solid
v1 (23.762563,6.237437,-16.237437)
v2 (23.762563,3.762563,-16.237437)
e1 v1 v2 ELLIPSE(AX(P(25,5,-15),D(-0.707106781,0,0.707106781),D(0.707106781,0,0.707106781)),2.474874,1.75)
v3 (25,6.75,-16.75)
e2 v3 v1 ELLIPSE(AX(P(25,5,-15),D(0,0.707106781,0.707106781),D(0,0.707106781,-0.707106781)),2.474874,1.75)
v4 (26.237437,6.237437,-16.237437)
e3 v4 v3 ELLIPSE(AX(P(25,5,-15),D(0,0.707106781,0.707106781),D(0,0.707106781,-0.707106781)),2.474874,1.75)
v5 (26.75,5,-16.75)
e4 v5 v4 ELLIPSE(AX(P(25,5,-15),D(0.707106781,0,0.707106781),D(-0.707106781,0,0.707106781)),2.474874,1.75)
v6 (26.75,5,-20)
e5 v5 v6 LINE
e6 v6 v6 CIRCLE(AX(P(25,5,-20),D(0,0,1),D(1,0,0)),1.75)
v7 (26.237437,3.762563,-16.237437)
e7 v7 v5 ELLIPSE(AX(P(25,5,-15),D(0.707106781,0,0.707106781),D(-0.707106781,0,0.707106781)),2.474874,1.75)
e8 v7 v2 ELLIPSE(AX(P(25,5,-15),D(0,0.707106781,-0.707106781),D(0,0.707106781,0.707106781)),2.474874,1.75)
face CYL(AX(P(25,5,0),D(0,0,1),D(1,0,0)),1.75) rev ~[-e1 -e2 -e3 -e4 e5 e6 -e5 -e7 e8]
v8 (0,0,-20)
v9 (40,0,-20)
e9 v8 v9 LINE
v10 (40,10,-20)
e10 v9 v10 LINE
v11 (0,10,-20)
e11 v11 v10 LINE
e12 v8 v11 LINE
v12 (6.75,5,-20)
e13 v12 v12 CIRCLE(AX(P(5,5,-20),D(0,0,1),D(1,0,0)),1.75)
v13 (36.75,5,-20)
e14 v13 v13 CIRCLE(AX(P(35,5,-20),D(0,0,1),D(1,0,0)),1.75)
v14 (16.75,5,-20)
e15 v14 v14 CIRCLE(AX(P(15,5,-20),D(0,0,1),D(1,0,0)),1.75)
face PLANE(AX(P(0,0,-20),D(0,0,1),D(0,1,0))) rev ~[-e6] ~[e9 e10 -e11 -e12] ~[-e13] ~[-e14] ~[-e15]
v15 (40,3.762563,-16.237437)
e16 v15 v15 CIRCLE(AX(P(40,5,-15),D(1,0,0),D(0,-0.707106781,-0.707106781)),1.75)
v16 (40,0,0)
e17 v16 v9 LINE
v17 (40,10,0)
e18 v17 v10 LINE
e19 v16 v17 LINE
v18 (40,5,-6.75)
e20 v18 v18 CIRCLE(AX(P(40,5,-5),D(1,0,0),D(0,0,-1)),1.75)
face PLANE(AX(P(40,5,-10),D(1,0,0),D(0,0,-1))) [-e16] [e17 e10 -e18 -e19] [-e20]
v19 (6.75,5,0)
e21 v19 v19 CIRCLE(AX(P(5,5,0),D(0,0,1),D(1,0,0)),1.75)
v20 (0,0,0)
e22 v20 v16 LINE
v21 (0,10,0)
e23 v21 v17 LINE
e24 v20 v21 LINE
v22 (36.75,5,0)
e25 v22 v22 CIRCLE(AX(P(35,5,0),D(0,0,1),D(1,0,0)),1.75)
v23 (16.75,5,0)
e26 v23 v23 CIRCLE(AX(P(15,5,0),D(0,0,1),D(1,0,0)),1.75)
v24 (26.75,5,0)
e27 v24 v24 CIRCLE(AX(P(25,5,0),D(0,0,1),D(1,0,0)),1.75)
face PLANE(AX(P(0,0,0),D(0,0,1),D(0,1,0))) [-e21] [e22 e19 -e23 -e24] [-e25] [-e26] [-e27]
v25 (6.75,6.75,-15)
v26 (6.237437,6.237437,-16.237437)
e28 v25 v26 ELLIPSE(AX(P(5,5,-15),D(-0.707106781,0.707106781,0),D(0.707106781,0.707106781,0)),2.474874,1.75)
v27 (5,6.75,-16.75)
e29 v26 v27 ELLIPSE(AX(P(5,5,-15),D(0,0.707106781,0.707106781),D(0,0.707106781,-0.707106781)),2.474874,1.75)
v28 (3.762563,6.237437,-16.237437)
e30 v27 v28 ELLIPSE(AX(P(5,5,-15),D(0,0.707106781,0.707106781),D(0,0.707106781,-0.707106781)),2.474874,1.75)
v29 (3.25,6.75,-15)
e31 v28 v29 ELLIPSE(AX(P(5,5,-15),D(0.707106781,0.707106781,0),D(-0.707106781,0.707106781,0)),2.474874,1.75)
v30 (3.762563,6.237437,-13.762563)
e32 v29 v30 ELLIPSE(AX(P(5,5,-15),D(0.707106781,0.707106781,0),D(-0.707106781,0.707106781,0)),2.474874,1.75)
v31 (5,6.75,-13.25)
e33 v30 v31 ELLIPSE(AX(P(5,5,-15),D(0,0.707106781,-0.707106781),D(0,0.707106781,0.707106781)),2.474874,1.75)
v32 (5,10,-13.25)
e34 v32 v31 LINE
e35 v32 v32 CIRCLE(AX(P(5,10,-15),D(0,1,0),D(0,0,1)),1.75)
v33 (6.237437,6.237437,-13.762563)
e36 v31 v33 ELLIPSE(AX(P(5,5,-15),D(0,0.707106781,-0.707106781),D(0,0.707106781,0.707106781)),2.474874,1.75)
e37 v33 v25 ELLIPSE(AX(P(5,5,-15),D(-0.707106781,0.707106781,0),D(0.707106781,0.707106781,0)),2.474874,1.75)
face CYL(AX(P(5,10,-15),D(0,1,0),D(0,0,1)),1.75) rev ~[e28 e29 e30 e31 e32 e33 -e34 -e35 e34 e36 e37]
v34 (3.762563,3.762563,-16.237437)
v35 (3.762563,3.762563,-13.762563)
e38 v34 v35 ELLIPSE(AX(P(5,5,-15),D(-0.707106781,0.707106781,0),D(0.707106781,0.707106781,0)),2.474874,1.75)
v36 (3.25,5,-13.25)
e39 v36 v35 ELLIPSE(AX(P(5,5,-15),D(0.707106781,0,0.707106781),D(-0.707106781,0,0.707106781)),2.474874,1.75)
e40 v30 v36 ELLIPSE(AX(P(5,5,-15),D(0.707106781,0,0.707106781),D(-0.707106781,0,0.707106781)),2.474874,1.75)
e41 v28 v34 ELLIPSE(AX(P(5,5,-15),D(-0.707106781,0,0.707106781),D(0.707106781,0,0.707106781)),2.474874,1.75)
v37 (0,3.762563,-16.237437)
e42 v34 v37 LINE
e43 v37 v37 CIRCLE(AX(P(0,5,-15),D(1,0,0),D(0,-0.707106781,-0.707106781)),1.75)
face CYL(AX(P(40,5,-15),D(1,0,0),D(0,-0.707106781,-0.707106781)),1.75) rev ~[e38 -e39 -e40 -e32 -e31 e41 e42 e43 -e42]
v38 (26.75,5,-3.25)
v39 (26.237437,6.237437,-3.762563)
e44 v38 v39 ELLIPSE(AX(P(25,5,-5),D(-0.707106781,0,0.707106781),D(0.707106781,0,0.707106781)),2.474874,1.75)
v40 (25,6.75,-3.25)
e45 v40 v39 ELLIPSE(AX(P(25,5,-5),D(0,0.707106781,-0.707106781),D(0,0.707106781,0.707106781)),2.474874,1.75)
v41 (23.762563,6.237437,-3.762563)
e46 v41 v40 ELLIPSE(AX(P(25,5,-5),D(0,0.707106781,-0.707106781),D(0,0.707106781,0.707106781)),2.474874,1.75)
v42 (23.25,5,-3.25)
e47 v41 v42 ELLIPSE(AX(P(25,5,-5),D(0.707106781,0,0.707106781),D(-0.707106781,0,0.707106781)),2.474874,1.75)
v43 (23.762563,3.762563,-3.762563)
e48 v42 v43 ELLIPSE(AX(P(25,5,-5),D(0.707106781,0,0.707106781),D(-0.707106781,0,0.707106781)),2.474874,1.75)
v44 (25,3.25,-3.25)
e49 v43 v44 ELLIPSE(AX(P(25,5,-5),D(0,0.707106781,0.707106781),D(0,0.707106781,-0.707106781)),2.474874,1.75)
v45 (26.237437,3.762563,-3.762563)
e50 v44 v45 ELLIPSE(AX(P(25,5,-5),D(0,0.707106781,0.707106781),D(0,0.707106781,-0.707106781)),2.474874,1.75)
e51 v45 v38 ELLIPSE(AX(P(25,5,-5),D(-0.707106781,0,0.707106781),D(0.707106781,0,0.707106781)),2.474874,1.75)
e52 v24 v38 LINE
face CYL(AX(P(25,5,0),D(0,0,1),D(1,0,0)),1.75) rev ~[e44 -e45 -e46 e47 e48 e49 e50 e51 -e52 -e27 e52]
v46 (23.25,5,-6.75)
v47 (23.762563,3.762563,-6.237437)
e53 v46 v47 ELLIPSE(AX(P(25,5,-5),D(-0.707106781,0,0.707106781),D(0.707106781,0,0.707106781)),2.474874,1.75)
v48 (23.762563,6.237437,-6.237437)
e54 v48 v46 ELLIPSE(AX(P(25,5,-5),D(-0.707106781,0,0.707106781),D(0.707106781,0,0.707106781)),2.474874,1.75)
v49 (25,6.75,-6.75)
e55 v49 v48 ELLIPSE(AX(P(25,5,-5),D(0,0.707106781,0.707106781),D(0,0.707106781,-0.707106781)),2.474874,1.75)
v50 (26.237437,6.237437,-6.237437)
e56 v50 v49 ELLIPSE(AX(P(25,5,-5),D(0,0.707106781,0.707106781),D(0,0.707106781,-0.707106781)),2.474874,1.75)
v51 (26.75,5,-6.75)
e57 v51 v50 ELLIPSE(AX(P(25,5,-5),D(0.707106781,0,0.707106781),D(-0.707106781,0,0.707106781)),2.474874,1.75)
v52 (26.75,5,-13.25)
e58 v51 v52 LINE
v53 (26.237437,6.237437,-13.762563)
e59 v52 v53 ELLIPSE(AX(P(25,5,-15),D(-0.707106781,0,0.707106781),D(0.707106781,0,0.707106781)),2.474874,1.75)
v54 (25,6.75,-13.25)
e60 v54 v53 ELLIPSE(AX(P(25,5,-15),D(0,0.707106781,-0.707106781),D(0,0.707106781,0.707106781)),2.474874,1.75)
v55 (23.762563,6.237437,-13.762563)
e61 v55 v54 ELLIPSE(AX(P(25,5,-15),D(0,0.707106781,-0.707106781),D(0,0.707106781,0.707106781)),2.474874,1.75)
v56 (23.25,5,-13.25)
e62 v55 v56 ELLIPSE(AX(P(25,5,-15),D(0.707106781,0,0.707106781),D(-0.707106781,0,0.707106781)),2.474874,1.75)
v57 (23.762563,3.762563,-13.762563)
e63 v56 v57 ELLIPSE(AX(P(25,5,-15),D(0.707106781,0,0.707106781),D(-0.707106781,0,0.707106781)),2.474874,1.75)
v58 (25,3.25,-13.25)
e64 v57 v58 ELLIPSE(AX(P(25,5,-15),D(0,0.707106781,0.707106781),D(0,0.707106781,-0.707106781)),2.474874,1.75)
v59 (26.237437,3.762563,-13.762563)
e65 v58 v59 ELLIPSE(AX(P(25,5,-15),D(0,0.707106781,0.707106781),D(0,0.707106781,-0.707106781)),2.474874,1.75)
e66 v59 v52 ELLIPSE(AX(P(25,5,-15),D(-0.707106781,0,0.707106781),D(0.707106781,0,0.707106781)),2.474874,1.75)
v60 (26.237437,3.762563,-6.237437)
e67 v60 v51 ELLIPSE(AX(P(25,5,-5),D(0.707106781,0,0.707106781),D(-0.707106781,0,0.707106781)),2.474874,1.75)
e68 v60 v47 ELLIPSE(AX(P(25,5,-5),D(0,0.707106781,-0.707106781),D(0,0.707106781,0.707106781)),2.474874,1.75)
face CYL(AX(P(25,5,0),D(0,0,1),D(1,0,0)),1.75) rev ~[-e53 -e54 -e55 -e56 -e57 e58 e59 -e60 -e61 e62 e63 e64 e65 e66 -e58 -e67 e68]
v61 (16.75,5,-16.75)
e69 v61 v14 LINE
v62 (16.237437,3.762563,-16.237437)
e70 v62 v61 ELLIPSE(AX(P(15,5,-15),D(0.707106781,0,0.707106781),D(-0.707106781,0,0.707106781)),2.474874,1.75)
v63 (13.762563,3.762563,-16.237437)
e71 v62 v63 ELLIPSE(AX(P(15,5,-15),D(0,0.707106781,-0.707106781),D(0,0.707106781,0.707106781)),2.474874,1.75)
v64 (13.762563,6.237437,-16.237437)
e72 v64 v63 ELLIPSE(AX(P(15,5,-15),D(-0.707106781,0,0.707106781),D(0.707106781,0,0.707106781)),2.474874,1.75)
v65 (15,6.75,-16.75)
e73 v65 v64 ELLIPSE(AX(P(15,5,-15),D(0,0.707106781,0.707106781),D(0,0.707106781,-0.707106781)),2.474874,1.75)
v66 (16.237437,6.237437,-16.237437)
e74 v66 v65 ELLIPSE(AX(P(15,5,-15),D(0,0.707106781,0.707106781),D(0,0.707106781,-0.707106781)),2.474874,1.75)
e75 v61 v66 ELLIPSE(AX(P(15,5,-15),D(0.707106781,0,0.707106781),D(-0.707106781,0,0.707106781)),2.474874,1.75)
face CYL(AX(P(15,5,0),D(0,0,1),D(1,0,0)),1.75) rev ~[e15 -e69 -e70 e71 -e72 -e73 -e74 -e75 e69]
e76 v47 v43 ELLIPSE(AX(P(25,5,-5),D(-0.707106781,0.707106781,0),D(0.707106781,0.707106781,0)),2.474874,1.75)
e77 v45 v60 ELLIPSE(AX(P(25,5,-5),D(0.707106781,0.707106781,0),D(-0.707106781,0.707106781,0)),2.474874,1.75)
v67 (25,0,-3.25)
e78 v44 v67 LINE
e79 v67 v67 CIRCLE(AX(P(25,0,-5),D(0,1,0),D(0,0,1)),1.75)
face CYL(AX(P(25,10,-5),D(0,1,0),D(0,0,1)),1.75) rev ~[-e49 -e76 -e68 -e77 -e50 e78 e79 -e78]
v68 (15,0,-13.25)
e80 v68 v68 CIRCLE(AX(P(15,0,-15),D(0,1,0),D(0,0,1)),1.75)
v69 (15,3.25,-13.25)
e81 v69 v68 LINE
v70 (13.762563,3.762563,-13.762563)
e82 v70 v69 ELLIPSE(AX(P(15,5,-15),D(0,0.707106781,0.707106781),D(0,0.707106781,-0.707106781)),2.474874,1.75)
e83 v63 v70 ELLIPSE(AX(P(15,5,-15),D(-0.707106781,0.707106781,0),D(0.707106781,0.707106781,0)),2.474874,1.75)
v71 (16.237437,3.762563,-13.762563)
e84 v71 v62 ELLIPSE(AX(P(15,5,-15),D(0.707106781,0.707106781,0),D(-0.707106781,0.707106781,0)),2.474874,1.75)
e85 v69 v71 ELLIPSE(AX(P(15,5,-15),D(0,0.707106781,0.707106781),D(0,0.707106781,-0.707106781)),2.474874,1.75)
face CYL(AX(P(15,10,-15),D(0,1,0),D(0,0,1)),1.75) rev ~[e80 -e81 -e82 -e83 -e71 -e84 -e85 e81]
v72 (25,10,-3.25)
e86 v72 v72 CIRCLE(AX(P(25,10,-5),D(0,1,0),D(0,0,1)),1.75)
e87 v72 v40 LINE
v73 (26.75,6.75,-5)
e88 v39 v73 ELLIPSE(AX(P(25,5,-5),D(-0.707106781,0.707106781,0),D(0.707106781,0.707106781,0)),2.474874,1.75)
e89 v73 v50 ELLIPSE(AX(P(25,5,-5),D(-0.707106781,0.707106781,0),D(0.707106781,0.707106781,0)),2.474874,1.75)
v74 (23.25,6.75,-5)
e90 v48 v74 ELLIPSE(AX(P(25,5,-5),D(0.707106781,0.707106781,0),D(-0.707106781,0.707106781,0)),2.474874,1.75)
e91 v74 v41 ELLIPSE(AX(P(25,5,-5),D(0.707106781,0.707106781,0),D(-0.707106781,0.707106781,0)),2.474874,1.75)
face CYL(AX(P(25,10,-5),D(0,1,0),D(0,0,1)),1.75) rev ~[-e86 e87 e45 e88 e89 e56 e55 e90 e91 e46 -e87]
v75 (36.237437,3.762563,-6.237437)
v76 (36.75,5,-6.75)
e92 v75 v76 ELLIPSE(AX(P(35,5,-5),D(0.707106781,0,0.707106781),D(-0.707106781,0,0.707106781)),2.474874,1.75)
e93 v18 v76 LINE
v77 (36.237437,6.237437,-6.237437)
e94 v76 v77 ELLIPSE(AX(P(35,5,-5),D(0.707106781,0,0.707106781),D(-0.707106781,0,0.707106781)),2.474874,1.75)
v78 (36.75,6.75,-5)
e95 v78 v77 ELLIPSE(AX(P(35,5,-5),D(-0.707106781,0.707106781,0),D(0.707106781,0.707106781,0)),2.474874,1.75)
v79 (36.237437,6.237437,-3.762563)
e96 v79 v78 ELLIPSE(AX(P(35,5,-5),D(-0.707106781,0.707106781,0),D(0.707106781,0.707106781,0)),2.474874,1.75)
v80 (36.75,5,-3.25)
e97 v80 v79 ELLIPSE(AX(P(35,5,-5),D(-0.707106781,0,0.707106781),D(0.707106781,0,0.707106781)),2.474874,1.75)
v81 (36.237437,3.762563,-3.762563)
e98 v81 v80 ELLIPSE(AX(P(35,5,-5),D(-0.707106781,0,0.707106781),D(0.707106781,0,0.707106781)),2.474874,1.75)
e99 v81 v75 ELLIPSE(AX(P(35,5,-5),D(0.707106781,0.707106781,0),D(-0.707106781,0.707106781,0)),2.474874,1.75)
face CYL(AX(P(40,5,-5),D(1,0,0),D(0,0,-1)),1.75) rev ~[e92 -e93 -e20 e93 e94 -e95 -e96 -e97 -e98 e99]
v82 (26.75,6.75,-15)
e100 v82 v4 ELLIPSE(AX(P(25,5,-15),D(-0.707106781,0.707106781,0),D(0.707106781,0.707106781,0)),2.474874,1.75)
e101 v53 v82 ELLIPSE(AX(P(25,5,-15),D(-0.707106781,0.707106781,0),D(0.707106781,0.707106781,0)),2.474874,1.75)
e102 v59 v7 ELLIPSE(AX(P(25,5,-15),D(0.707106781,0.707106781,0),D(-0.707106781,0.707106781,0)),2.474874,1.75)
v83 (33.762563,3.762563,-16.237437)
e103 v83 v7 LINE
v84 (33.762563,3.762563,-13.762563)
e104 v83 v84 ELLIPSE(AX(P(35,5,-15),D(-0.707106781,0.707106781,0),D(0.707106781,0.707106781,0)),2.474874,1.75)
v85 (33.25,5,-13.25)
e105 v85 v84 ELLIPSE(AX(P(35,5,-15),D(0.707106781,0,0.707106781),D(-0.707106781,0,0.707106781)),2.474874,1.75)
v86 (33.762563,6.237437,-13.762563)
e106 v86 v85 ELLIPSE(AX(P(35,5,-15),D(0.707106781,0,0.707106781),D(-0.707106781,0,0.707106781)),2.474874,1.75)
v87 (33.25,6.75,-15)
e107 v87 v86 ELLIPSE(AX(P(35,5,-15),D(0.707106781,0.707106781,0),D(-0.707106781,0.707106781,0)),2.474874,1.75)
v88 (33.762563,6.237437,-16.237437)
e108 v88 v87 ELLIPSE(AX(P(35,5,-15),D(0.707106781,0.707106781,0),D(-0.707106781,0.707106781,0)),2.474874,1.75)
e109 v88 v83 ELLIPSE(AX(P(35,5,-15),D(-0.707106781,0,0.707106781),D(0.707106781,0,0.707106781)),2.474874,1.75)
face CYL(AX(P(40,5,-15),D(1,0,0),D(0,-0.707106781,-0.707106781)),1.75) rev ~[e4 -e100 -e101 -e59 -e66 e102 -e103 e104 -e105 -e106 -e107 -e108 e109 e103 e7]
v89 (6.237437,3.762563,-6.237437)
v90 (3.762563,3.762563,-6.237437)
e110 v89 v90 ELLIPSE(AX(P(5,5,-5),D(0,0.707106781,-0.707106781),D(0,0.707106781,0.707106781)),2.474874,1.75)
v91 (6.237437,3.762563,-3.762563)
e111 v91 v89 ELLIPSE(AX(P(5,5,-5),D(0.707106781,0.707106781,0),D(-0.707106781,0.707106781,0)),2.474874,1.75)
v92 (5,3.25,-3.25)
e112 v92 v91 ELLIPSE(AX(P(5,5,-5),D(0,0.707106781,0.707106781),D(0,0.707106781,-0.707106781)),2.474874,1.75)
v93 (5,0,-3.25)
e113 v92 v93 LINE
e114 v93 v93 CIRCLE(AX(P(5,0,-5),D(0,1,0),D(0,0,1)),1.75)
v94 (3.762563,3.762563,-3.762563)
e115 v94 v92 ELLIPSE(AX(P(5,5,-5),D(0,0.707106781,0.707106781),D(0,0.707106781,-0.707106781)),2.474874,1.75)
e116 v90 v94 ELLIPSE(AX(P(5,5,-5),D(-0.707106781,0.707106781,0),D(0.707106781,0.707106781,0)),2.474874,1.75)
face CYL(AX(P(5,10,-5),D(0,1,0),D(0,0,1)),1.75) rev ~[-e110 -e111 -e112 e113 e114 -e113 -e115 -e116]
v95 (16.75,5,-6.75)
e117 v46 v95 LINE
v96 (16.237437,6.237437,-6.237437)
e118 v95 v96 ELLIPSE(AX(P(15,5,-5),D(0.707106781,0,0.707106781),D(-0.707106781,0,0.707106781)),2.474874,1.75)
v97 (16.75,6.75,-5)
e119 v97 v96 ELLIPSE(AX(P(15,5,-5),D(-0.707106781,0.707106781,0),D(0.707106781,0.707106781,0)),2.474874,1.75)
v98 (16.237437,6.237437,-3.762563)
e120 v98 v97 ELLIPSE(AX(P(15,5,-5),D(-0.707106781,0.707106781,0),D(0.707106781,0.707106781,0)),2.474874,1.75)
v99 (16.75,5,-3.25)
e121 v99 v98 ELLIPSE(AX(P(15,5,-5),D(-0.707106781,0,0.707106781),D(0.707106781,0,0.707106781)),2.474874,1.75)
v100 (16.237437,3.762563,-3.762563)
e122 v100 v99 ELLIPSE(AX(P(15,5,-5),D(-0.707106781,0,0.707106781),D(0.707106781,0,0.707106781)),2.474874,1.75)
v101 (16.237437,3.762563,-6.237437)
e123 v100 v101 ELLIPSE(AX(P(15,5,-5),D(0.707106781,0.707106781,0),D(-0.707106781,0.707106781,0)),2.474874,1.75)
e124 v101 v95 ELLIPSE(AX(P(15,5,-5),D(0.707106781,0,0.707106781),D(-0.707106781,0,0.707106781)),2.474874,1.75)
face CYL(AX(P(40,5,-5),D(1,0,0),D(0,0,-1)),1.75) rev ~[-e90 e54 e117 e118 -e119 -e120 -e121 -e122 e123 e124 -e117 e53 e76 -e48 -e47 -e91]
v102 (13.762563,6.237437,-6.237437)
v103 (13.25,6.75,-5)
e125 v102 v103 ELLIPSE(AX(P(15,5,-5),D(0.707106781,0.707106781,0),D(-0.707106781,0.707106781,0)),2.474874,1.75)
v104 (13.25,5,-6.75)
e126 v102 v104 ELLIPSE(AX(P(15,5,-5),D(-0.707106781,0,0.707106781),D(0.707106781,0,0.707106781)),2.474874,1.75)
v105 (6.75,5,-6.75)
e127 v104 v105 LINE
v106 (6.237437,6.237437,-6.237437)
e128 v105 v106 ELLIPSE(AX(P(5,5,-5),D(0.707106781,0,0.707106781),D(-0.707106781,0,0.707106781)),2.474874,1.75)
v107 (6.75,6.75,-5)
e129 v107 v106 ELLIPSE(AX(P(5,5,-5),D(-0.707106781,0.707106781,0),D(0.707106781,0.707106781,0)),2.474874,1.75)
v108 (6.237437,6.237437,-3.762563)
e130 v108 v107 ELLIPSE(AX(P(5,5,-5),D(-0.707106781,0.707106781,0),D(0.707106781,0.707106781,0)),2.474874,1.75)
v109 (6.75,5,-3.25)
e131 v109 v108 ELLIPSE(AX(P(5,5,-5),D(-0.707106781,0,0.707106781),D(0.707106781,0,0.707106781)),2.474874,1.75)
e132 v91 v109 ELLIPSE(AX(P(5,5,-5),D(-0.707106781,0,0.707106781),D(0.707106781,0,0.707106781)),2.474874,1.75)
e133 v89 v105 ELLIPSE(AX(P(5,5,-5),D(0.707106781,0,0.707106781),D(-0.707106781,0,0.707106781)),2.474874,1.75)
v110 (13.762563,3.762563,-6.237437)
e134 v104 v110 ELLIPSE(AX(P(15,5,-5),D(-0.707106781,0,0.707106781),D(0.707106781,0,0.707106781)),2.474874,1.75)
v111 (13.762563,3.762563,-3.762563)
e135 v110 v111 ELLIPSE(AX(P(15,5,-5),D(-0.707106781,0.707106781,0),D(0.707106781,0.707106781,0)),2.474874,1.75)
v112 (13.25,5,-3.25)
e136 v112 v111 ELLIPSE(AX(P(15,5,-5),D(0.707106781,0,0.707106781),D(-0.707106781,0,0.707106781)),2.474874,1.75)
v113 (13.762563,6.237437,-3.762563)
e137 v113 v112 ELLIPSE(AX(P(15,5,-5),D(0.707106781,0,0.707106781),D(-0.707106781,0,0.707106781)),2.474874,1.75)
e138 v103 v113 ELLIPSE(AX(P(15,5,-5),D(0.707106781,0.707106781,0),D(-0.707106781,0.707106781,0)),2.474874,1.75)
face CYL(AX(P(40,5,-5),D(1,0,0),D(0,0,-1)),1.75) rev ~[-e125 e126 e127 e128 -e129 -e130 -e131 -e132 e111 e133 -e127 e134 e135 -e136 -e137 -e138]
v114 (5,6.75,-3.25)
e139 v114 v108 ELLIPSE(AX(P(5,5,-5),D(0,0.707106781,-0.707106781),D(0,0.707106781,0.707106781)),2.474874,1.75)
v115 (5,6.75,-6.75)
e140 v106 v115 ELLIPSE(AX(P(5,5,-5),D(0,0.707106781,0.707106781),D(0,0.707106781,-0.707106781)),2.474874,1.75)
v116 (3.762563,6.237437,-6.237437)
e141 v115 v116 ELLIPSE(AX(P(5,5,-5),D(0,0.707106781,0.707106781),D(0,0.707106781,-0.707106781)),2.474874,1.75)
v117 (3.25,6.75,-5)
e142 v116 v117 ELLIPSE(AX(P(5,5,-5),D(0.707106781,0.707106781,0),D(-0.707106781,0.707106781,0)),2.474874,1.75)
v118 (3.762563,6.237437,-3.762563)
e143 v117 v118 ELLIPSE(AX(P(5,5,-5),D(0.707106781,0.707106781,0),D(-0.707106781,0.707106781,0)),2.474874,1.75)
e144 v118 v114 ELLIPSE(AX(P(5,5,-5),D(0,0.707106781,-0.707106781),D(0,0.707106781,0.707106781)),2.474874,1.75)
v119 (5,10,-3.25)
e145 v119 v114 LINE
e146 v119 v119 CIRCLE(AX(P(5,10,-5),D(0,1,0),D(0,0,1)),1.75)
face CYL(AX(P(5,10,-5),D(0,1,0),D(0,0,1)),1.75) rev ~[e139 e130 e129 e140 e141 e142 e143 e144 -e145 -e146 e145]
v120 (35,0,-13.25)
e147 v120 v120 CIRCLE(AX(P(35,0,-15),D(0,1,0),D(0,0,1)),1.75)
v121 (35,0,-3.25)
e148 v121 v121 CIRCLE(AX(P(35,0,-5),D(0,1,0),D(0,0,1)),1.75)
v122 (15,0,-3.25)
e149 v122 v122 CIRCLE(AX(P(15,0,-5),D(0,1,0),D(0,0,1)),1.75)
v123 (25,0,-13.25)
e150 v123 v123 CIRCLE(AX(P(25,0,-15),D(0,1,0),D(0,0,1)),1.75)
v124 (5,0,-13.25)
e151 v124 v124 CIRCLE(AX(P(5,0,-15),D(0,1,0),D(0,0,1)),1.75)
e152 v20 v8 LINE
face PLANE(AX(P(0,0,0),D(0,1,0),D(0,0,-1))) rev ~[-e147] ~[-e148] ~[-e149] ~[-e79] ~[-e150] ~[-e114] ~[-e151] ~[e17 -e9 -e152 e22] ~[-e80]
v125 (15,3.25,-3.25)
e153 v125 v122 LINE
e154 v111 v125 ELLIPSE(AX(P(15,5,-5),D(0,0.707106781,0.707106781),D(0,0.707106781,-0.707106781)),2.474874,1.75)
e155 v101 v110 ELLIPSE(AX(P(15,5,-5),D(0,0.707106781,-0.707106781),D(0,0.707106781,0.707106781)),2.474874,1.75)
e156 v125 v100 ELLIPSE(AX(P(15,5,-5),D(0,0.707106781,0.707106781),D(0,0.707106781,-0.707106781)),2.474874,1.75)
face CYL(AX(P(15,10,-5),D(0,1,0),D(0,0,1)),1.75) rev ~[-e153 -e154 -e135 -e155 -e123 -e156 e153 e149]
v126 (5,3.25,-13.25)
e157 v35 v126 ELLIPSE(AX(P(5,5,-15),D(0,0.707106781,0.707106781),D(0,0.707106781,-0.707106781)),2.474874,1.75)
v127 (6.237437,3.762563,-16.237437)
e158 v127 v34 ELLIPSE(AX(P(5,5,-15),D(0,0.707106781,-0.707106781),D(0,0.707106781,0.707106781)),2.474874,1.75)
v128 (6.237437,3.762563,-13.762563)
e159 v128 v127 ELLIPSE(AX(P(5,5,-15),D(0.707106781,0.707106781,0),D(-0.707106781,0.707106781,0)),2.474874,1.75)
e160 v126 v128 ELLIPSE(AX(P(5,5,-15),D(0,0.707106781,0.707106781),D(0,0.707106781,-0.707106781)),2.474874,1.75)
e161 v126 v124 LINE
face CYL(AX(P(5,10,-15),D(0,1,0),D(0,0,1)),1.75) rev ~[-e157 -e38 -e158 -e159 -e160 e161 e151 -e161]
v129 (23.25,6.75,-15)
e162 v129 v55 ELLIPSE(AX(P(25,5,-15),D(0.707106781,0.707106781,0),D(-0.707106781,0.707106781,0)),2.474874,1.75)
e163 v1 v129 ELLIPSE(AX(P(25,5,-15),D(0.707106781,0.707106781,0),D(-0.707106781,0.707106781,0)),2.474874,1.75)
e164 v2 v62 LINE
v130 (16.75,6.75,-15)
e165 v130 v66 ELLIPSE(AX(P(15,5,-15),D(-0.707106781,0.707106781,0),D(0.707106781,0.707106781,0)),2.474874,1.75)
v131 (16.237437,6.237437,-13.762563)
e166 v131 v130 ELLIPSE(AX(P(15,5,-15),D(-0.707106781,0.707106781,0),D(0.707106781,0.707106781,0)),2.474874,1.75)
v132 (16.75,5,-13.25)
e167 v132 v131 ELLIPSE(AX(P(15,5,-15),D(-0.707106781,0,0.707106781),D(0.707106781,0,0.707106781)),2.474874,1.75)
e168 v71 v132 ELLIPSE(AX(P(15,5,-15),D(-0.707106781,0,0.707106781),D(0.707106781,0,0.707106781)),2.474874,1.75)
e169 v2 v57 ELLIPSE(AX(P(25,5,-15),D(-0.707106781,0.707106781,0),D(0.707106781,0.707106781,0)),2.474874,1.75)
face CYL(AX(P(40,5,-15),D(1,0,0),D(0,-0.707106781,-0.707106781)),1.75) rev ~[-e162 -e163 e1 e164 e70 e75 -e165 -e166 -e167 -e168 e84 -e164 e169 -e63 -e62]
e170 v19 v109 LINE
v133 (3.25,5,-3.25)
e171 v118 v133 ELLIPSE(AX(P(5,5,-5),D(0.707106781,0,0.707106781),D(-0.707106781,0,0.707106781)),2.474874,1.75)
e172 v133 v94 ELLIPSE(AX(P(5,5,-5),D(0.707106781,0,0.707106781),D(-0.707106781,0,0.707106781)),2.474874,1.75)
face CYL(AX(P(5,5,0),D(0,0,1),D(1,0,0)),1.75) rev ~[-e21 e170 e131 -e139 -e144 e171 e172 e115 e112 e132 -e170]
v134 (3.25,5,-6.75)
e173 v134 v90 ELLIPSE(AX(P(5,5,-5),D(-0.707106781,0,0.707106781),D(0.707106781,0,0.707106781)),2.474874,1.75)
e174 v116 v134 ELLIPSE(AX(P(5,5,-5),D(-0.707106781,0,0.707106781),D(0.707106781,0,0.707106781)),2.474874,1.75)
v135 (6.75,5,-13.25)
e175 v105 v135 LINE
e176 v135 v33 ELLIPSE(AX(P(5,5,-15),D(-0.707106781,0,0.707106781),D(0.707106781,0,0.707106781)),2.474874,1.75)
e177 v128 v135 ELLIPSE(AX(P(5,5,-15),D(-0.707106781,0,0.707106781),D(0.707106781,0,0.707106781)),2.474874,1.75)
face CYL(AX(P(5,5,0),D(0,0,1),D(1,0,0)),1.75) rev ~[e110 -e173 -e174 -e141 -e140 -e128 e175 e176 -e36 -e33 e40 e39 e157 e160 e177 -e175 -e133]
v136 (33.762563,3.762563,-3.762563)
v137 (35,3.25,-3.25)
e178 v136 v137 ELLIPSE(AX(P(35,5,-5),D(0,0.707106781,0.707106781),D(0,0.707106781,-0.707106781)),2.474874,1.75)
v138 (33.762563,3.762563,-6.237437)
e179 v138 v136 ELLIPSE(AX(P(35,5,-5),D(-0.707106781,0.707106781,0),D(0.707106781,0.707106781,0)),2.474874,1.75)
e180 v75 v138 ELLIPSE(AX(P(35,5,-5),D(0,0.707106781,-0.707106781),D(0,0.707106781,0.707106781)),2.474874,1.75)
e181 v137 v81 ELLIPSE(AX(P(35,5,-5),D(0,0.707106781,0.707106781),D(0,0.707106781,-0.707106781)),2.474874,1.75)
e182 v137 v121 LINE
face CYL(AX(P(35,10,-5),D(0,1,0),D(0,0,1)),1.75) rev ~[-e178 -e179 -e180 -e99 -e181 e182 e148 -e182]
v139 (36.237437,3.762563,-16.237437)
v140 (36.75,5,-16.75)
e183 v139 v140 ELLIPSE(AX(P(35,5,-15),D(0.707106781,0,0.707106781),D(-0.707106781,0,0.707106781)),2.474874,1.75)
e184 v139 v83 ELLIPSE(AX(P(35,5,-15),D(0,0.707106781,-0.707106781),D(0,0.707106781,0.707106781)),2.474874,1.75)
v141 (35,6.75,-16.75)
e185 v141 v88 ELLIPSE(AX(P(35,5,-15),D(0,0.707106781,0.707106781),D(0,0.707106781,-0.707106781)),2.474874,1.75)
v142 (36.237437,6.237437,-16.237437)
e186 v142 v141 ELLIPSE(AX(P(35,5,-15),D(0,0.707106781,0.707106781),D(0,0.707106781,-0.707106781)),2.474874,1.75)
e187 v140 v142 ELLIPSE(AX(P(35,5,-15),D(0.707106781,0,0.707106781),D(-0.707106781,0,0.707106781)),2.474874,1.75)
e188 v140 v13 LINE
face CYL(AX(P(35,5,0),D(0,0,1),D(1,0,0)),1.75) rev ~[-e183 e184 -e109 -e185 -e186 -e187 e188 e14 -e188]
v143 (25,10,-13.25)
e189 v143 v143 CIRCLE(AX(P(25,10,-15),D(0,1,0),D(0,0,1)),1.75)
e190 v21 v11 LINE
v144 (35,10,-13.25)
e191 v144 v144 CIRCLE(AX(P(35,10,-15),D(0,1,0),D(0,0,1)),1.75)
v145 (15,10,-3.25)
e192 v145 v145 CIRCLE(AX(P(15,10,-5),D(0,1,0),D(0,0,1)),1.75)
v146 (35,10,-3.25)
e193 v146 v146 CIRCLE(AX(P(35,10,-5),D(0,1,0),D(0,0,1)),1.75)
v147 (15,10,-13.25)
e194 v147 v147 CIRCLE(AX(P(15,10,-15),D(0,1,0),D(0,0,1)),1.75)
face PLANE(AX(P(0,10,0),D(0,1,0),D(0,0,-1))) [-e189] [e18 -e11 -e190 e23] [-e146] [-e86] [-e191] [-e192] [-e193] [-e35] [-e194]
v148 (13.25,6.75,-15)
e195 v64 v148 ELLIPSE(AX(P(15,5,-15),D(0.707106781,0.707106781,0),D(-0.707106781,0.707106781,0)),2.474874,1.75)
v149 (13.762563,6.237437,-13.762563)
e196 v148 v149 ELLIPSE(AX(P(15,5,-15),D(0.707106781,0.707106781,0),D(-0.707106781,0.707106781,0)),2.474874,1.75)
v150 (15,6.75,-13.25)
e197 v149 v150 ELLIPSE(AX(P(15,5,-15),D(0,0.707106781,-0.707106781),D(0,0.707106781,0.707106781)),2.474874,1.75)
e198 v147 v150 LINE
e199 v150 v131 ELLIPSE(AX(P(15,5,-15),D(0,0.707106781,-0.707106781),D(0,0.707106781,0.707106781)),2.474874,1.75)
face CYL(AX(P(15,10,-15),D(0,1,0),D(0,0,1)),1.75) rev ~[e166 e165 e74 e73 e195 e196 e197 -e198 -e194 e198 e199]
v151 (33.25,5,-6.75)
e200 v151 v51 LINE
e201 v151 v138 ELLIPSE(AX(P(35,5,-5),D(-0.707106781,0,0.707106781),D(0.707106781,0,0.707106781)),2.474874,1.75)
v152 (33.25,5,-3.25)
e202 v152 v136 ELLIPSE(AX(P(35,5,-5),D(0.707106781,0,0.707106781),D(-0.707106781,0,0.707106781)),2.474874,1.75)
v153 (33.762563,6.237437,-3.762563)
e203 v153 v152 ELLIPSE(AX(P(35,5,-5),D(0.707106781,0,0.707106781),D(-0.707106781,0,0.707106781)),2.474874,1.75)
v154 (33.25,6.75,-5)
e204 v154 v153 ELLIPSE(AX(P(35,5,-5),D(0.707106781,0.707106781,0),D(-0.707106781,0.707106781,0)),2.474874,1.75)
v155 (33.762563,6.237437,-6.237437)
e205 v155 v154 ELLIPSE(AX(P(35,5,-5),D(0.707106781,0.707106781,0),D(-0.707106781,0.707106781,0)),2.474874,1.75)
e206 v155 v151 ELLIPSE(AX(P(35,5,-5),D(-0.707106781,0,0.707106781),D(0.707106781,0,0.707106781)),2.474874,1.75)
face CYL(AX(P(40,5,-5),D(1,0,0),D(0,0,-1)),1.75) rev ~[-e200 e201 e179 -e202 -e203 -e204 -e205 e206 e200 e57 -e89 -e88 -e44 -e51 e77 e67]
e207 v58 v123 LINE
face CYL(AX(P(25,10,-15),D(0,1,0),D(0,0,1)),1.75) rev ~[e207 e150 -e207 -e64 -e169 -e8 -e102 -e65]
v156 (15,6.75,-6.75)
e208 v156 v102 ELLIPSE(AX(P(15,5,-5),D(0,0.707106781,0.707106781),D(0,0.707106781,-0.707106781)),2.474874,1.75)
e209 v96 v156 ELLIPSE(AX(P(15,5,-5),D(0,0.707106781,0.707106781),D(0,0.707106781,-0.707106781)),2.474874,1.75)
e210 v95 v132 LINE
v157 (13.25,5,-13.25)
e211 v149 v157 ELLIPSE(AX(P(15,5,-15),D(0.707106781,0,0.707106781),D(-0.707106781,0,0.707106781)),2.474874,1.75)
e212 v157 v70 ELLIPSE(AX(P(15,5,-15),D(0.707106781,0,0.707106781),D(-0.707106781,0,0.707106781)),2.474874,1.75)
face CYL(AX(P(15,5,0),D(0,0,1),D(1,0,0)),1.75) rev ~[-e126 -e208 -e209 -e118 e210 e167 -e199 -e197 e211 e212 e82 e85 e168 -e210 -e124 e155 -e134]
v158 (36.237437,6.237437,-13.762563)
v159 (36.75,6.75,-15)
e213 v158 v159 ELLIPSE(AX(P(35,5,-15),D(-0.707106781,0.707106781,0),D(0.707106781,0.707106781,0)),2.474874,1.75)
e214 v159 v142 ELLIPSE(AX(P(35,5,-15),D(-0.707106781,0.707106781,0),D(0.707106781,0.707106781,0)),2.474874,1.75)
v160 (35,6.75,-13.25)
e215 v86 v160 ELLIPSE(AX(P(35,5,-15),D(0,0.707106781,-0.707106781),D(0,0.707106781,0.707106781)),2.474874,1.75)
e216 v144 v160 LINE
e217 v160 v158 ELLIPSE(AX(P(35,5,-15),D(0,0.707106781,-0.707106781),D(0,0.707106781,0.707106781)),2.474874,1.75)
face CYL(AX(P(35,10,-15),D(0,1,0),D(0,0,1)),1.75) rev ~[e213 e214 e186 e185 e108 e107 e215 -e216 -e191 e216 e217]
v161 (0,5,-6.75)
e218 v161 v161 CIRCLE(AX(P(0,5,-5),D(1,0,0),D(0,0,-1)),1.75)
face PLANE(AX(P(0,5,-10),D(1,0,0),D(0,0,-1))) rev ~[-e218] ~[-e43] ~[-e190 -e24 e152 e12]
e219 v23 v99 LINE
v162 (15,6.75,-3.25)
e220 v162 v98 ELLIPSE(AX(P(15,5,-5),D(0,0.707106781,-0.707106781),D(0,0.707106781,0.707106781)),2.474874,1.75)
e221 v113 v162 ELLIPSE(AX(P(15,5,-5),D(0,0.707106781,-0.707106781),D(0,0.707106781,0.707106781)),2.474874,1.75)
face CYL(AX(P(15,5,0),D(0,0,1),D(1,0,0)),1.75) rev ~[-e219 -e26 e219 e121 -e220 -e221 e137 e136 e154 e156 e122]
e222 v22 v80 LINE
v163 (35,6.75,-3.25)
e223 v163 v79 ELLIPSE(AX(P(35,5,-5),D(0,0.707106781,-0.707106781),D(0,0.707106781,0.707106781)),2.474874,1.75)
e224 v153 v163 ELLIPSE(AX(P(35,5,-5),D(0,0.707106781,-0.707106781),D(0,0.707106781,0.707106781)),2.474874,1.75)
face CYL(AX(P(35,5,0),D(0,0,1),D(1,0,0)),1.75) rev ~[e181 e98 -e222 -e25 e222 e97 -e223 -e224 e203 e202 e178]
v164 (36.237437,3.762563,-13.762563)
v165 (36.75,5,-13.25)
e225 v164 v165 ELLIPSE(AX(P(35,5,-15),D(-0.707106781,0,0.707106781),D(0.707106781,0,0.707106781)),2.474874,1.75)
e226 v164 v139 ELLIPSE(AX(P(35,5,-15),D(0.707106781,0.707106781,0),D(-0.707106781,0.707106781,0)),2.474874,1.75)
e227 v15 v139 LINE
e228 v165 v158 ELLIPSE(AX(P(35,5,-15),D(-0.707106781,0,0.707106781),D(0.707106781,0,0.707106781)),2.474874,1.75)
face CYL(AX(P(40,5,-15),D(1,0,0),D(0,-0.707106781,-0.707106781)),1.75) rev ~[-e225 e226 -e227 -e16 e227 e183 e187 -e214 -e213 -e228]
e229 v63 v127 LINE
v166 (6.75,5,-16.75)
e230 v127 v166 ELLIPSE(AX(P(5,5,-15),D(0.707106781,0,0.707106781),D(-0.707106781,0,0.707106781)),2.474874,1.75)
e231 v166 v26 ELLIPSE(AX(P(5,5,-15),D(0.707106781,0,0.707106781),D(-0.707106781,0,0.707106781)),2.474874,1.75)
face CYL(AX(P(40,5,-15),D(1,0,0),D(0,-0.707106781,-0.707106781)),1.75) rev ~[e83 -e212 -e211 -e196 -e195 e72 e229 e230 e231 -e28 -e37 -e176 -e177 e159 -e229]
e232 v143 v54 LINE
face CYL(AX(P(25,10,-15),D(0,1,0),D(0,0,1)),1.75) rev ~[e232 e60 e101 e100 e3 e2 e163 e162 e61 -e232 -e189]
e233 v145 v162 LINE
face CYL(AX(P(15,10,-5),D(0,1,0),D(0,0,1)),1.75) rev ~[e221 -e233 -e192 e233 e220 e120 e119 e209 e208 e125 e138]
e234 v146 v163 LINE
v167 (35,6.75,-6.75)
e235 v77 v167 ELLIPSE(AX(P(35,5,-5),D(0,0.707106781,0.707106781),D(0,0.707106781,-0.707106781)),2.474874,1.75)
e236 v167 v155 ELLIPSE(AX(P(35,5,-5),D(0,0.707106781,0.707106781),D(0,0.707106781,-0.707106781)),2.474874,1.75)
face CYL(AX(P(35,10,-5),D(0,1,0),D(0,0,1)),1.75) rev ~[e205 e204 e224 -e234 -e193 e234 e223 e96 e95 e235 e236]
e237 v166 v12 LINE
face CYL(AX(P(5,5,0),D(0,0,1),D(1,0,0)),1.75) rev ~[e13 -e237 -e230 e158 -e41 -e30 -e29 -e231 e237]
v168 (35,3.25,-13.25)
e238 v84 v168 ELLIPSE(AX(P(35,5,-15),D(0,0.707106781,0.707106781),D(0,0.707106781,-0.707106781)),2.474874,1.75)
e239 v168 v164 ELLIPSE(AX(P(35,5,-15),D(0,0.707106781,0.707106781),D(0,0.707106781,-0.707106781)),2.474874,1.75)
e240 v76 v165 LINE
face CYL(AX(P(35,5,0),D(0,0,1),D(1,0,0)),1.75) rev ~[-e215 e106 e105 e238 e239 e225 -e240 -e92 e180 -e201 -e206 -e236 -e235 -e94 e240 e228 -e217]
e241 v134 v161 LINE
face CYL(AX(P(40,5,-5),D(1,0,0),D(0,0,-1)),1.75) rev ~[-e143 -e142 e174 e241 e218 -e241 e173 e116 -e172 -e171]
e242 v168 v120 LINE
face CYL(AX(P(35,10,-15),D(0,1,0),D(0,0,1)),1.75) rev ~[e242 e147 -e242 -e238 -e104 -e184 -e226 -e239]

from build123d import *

# Parameters (mm, degrees)
ESQUISSE1_W             = 20
ESQUISSE1_H             = 10
BOSS_EXTRU_1_DEPTH      = 40
ESQUISSE2_R             = 1.75
ENL_V_MAT_EXTRU_1_DEPTH = 46.82575695
ESQUISSE3_R             = 1.75
ENL_V_MAT_EXTRU_2_DEPTH = 40
ESQUISSE4_R             = 1.75
ENL_V_MAT_EXTRU_3_DEPTH = 40


with BuildPart() as part:
    # Esquisse1 → Boss.-Extru.1 (new body)
    with BuildSketch(Plane(origin=(0, 0, 0), x_dir=(0, 0, -1), z_dir=(1, 0, 0))):
        with Locations((10, 5)):
            Rectangle(ESQUISSE1_W, ESQUISSE1_H)
    extrude(amount=BOSS_EXTRU_1_DEPTH)

    # Esquisse2 → Enlèv. mat.-Extru.1 (cut, through all)
    with BuildSketch(Plane(origin=(0, 10, 0), x_dir=(1, 0, 0), z_dir=(0, 1, 0))):
        with Locations(Location((5, 15, 0), (0, 0, 270))):
            Circle(ESQUISSE2_R)
        with Locations(Location((15, 15, 0), (0, 0, 270))):
            Circle(ESQUISSE2_R)
        with Locations(Location((25, 15, 0), (0, 0, 270))):
            Circle(ESQUISSE2_R)
        with Locations(Location((35, 15, 0), (0, 0, 270))):
            Circle(ESQUISSE2_R)
        with Locations(Location((5, 5, 0), (0, 0, 270))):
            Circle(ESQUISSE2_R)
        with Locations(Location((15, 5, 0), (0, 0, 270))):
            Circle(ESQUISSE2_R)
        with Locations(Location((25, 5, 0), (0, 0, 270))):
            Circle(ESQUISSE2_R)
        with Locations(Location((35, 5, 0), (0, 0, 270))):
            Circle(ESQUISSE2_R)
        with Locations((5, -5)):
            Circle(ESQUISSE2_R)
        with Locations((15, -5)):
            Circle(ESQUISSE2_R)
        with Locations((25, -5)):
            Circle(ESQUISSE2_R)
        with Locations((35, -5)):
            Circle(ESQUISSE2_R)
        with Locations((5, -15)):
            Circle(ESQUISSE2_R)
        with Locations((15, -15)):
            Circle(ESQUISSE2_R)
        with Locations((25, -15)):
            Circle(ESQUISSE2_R)
        with Locations((35, -15)):
            Circle(ESQUISSE2_R)
    extrude(amount=-ENL_V_MAT_EXTRU_1_DEPTH, mode=Mode.SUBTRACT)

    # Esquisse3 → Enlèv. mat.-Extru.2 (cut)
    with BuildSketch(Plane.XY):
        with Locations((5, 5)):
            Circle(ESQUISSE3_R)
        with Locations((15, 5)):
            Circle(ESQUISSE3_R)
        with Locations((25, 5)):
            Circle(ESQUISSE3_R)
        with Locations((35, 5)):
            Circle(ESQUISSE3_R)
    extrude(amount=-ENL_V_MAT_EXTRU_2_DEPTH, mode=Mode.SUBTRACT)

    # Esquisse4 → Enlèv. mat.-Extru.3 (cut)
    with BuildSketch(Plane(origin=(40, 0, 0), x_dir=(0, 0, -1), z_dir=(1, 0, 0))):
        with Locations((5, 5)):
            Circle(ESQUISSE4_R)
        with Locations(Location((15, 5, 0), (0, 0, 315))):
            Circle(ESQUISSE4_R)
        with Locations((25, 5)):
            Circle(ESQUISSE4_R)
        with Locations((35, 5)):
            Circle(ESQUISSE4_R)
    extrude(amount=-ENL_V_MAT_EXTRU_3_DEPTH, mode=Mode.SUBTRACT)


solid = part.part
